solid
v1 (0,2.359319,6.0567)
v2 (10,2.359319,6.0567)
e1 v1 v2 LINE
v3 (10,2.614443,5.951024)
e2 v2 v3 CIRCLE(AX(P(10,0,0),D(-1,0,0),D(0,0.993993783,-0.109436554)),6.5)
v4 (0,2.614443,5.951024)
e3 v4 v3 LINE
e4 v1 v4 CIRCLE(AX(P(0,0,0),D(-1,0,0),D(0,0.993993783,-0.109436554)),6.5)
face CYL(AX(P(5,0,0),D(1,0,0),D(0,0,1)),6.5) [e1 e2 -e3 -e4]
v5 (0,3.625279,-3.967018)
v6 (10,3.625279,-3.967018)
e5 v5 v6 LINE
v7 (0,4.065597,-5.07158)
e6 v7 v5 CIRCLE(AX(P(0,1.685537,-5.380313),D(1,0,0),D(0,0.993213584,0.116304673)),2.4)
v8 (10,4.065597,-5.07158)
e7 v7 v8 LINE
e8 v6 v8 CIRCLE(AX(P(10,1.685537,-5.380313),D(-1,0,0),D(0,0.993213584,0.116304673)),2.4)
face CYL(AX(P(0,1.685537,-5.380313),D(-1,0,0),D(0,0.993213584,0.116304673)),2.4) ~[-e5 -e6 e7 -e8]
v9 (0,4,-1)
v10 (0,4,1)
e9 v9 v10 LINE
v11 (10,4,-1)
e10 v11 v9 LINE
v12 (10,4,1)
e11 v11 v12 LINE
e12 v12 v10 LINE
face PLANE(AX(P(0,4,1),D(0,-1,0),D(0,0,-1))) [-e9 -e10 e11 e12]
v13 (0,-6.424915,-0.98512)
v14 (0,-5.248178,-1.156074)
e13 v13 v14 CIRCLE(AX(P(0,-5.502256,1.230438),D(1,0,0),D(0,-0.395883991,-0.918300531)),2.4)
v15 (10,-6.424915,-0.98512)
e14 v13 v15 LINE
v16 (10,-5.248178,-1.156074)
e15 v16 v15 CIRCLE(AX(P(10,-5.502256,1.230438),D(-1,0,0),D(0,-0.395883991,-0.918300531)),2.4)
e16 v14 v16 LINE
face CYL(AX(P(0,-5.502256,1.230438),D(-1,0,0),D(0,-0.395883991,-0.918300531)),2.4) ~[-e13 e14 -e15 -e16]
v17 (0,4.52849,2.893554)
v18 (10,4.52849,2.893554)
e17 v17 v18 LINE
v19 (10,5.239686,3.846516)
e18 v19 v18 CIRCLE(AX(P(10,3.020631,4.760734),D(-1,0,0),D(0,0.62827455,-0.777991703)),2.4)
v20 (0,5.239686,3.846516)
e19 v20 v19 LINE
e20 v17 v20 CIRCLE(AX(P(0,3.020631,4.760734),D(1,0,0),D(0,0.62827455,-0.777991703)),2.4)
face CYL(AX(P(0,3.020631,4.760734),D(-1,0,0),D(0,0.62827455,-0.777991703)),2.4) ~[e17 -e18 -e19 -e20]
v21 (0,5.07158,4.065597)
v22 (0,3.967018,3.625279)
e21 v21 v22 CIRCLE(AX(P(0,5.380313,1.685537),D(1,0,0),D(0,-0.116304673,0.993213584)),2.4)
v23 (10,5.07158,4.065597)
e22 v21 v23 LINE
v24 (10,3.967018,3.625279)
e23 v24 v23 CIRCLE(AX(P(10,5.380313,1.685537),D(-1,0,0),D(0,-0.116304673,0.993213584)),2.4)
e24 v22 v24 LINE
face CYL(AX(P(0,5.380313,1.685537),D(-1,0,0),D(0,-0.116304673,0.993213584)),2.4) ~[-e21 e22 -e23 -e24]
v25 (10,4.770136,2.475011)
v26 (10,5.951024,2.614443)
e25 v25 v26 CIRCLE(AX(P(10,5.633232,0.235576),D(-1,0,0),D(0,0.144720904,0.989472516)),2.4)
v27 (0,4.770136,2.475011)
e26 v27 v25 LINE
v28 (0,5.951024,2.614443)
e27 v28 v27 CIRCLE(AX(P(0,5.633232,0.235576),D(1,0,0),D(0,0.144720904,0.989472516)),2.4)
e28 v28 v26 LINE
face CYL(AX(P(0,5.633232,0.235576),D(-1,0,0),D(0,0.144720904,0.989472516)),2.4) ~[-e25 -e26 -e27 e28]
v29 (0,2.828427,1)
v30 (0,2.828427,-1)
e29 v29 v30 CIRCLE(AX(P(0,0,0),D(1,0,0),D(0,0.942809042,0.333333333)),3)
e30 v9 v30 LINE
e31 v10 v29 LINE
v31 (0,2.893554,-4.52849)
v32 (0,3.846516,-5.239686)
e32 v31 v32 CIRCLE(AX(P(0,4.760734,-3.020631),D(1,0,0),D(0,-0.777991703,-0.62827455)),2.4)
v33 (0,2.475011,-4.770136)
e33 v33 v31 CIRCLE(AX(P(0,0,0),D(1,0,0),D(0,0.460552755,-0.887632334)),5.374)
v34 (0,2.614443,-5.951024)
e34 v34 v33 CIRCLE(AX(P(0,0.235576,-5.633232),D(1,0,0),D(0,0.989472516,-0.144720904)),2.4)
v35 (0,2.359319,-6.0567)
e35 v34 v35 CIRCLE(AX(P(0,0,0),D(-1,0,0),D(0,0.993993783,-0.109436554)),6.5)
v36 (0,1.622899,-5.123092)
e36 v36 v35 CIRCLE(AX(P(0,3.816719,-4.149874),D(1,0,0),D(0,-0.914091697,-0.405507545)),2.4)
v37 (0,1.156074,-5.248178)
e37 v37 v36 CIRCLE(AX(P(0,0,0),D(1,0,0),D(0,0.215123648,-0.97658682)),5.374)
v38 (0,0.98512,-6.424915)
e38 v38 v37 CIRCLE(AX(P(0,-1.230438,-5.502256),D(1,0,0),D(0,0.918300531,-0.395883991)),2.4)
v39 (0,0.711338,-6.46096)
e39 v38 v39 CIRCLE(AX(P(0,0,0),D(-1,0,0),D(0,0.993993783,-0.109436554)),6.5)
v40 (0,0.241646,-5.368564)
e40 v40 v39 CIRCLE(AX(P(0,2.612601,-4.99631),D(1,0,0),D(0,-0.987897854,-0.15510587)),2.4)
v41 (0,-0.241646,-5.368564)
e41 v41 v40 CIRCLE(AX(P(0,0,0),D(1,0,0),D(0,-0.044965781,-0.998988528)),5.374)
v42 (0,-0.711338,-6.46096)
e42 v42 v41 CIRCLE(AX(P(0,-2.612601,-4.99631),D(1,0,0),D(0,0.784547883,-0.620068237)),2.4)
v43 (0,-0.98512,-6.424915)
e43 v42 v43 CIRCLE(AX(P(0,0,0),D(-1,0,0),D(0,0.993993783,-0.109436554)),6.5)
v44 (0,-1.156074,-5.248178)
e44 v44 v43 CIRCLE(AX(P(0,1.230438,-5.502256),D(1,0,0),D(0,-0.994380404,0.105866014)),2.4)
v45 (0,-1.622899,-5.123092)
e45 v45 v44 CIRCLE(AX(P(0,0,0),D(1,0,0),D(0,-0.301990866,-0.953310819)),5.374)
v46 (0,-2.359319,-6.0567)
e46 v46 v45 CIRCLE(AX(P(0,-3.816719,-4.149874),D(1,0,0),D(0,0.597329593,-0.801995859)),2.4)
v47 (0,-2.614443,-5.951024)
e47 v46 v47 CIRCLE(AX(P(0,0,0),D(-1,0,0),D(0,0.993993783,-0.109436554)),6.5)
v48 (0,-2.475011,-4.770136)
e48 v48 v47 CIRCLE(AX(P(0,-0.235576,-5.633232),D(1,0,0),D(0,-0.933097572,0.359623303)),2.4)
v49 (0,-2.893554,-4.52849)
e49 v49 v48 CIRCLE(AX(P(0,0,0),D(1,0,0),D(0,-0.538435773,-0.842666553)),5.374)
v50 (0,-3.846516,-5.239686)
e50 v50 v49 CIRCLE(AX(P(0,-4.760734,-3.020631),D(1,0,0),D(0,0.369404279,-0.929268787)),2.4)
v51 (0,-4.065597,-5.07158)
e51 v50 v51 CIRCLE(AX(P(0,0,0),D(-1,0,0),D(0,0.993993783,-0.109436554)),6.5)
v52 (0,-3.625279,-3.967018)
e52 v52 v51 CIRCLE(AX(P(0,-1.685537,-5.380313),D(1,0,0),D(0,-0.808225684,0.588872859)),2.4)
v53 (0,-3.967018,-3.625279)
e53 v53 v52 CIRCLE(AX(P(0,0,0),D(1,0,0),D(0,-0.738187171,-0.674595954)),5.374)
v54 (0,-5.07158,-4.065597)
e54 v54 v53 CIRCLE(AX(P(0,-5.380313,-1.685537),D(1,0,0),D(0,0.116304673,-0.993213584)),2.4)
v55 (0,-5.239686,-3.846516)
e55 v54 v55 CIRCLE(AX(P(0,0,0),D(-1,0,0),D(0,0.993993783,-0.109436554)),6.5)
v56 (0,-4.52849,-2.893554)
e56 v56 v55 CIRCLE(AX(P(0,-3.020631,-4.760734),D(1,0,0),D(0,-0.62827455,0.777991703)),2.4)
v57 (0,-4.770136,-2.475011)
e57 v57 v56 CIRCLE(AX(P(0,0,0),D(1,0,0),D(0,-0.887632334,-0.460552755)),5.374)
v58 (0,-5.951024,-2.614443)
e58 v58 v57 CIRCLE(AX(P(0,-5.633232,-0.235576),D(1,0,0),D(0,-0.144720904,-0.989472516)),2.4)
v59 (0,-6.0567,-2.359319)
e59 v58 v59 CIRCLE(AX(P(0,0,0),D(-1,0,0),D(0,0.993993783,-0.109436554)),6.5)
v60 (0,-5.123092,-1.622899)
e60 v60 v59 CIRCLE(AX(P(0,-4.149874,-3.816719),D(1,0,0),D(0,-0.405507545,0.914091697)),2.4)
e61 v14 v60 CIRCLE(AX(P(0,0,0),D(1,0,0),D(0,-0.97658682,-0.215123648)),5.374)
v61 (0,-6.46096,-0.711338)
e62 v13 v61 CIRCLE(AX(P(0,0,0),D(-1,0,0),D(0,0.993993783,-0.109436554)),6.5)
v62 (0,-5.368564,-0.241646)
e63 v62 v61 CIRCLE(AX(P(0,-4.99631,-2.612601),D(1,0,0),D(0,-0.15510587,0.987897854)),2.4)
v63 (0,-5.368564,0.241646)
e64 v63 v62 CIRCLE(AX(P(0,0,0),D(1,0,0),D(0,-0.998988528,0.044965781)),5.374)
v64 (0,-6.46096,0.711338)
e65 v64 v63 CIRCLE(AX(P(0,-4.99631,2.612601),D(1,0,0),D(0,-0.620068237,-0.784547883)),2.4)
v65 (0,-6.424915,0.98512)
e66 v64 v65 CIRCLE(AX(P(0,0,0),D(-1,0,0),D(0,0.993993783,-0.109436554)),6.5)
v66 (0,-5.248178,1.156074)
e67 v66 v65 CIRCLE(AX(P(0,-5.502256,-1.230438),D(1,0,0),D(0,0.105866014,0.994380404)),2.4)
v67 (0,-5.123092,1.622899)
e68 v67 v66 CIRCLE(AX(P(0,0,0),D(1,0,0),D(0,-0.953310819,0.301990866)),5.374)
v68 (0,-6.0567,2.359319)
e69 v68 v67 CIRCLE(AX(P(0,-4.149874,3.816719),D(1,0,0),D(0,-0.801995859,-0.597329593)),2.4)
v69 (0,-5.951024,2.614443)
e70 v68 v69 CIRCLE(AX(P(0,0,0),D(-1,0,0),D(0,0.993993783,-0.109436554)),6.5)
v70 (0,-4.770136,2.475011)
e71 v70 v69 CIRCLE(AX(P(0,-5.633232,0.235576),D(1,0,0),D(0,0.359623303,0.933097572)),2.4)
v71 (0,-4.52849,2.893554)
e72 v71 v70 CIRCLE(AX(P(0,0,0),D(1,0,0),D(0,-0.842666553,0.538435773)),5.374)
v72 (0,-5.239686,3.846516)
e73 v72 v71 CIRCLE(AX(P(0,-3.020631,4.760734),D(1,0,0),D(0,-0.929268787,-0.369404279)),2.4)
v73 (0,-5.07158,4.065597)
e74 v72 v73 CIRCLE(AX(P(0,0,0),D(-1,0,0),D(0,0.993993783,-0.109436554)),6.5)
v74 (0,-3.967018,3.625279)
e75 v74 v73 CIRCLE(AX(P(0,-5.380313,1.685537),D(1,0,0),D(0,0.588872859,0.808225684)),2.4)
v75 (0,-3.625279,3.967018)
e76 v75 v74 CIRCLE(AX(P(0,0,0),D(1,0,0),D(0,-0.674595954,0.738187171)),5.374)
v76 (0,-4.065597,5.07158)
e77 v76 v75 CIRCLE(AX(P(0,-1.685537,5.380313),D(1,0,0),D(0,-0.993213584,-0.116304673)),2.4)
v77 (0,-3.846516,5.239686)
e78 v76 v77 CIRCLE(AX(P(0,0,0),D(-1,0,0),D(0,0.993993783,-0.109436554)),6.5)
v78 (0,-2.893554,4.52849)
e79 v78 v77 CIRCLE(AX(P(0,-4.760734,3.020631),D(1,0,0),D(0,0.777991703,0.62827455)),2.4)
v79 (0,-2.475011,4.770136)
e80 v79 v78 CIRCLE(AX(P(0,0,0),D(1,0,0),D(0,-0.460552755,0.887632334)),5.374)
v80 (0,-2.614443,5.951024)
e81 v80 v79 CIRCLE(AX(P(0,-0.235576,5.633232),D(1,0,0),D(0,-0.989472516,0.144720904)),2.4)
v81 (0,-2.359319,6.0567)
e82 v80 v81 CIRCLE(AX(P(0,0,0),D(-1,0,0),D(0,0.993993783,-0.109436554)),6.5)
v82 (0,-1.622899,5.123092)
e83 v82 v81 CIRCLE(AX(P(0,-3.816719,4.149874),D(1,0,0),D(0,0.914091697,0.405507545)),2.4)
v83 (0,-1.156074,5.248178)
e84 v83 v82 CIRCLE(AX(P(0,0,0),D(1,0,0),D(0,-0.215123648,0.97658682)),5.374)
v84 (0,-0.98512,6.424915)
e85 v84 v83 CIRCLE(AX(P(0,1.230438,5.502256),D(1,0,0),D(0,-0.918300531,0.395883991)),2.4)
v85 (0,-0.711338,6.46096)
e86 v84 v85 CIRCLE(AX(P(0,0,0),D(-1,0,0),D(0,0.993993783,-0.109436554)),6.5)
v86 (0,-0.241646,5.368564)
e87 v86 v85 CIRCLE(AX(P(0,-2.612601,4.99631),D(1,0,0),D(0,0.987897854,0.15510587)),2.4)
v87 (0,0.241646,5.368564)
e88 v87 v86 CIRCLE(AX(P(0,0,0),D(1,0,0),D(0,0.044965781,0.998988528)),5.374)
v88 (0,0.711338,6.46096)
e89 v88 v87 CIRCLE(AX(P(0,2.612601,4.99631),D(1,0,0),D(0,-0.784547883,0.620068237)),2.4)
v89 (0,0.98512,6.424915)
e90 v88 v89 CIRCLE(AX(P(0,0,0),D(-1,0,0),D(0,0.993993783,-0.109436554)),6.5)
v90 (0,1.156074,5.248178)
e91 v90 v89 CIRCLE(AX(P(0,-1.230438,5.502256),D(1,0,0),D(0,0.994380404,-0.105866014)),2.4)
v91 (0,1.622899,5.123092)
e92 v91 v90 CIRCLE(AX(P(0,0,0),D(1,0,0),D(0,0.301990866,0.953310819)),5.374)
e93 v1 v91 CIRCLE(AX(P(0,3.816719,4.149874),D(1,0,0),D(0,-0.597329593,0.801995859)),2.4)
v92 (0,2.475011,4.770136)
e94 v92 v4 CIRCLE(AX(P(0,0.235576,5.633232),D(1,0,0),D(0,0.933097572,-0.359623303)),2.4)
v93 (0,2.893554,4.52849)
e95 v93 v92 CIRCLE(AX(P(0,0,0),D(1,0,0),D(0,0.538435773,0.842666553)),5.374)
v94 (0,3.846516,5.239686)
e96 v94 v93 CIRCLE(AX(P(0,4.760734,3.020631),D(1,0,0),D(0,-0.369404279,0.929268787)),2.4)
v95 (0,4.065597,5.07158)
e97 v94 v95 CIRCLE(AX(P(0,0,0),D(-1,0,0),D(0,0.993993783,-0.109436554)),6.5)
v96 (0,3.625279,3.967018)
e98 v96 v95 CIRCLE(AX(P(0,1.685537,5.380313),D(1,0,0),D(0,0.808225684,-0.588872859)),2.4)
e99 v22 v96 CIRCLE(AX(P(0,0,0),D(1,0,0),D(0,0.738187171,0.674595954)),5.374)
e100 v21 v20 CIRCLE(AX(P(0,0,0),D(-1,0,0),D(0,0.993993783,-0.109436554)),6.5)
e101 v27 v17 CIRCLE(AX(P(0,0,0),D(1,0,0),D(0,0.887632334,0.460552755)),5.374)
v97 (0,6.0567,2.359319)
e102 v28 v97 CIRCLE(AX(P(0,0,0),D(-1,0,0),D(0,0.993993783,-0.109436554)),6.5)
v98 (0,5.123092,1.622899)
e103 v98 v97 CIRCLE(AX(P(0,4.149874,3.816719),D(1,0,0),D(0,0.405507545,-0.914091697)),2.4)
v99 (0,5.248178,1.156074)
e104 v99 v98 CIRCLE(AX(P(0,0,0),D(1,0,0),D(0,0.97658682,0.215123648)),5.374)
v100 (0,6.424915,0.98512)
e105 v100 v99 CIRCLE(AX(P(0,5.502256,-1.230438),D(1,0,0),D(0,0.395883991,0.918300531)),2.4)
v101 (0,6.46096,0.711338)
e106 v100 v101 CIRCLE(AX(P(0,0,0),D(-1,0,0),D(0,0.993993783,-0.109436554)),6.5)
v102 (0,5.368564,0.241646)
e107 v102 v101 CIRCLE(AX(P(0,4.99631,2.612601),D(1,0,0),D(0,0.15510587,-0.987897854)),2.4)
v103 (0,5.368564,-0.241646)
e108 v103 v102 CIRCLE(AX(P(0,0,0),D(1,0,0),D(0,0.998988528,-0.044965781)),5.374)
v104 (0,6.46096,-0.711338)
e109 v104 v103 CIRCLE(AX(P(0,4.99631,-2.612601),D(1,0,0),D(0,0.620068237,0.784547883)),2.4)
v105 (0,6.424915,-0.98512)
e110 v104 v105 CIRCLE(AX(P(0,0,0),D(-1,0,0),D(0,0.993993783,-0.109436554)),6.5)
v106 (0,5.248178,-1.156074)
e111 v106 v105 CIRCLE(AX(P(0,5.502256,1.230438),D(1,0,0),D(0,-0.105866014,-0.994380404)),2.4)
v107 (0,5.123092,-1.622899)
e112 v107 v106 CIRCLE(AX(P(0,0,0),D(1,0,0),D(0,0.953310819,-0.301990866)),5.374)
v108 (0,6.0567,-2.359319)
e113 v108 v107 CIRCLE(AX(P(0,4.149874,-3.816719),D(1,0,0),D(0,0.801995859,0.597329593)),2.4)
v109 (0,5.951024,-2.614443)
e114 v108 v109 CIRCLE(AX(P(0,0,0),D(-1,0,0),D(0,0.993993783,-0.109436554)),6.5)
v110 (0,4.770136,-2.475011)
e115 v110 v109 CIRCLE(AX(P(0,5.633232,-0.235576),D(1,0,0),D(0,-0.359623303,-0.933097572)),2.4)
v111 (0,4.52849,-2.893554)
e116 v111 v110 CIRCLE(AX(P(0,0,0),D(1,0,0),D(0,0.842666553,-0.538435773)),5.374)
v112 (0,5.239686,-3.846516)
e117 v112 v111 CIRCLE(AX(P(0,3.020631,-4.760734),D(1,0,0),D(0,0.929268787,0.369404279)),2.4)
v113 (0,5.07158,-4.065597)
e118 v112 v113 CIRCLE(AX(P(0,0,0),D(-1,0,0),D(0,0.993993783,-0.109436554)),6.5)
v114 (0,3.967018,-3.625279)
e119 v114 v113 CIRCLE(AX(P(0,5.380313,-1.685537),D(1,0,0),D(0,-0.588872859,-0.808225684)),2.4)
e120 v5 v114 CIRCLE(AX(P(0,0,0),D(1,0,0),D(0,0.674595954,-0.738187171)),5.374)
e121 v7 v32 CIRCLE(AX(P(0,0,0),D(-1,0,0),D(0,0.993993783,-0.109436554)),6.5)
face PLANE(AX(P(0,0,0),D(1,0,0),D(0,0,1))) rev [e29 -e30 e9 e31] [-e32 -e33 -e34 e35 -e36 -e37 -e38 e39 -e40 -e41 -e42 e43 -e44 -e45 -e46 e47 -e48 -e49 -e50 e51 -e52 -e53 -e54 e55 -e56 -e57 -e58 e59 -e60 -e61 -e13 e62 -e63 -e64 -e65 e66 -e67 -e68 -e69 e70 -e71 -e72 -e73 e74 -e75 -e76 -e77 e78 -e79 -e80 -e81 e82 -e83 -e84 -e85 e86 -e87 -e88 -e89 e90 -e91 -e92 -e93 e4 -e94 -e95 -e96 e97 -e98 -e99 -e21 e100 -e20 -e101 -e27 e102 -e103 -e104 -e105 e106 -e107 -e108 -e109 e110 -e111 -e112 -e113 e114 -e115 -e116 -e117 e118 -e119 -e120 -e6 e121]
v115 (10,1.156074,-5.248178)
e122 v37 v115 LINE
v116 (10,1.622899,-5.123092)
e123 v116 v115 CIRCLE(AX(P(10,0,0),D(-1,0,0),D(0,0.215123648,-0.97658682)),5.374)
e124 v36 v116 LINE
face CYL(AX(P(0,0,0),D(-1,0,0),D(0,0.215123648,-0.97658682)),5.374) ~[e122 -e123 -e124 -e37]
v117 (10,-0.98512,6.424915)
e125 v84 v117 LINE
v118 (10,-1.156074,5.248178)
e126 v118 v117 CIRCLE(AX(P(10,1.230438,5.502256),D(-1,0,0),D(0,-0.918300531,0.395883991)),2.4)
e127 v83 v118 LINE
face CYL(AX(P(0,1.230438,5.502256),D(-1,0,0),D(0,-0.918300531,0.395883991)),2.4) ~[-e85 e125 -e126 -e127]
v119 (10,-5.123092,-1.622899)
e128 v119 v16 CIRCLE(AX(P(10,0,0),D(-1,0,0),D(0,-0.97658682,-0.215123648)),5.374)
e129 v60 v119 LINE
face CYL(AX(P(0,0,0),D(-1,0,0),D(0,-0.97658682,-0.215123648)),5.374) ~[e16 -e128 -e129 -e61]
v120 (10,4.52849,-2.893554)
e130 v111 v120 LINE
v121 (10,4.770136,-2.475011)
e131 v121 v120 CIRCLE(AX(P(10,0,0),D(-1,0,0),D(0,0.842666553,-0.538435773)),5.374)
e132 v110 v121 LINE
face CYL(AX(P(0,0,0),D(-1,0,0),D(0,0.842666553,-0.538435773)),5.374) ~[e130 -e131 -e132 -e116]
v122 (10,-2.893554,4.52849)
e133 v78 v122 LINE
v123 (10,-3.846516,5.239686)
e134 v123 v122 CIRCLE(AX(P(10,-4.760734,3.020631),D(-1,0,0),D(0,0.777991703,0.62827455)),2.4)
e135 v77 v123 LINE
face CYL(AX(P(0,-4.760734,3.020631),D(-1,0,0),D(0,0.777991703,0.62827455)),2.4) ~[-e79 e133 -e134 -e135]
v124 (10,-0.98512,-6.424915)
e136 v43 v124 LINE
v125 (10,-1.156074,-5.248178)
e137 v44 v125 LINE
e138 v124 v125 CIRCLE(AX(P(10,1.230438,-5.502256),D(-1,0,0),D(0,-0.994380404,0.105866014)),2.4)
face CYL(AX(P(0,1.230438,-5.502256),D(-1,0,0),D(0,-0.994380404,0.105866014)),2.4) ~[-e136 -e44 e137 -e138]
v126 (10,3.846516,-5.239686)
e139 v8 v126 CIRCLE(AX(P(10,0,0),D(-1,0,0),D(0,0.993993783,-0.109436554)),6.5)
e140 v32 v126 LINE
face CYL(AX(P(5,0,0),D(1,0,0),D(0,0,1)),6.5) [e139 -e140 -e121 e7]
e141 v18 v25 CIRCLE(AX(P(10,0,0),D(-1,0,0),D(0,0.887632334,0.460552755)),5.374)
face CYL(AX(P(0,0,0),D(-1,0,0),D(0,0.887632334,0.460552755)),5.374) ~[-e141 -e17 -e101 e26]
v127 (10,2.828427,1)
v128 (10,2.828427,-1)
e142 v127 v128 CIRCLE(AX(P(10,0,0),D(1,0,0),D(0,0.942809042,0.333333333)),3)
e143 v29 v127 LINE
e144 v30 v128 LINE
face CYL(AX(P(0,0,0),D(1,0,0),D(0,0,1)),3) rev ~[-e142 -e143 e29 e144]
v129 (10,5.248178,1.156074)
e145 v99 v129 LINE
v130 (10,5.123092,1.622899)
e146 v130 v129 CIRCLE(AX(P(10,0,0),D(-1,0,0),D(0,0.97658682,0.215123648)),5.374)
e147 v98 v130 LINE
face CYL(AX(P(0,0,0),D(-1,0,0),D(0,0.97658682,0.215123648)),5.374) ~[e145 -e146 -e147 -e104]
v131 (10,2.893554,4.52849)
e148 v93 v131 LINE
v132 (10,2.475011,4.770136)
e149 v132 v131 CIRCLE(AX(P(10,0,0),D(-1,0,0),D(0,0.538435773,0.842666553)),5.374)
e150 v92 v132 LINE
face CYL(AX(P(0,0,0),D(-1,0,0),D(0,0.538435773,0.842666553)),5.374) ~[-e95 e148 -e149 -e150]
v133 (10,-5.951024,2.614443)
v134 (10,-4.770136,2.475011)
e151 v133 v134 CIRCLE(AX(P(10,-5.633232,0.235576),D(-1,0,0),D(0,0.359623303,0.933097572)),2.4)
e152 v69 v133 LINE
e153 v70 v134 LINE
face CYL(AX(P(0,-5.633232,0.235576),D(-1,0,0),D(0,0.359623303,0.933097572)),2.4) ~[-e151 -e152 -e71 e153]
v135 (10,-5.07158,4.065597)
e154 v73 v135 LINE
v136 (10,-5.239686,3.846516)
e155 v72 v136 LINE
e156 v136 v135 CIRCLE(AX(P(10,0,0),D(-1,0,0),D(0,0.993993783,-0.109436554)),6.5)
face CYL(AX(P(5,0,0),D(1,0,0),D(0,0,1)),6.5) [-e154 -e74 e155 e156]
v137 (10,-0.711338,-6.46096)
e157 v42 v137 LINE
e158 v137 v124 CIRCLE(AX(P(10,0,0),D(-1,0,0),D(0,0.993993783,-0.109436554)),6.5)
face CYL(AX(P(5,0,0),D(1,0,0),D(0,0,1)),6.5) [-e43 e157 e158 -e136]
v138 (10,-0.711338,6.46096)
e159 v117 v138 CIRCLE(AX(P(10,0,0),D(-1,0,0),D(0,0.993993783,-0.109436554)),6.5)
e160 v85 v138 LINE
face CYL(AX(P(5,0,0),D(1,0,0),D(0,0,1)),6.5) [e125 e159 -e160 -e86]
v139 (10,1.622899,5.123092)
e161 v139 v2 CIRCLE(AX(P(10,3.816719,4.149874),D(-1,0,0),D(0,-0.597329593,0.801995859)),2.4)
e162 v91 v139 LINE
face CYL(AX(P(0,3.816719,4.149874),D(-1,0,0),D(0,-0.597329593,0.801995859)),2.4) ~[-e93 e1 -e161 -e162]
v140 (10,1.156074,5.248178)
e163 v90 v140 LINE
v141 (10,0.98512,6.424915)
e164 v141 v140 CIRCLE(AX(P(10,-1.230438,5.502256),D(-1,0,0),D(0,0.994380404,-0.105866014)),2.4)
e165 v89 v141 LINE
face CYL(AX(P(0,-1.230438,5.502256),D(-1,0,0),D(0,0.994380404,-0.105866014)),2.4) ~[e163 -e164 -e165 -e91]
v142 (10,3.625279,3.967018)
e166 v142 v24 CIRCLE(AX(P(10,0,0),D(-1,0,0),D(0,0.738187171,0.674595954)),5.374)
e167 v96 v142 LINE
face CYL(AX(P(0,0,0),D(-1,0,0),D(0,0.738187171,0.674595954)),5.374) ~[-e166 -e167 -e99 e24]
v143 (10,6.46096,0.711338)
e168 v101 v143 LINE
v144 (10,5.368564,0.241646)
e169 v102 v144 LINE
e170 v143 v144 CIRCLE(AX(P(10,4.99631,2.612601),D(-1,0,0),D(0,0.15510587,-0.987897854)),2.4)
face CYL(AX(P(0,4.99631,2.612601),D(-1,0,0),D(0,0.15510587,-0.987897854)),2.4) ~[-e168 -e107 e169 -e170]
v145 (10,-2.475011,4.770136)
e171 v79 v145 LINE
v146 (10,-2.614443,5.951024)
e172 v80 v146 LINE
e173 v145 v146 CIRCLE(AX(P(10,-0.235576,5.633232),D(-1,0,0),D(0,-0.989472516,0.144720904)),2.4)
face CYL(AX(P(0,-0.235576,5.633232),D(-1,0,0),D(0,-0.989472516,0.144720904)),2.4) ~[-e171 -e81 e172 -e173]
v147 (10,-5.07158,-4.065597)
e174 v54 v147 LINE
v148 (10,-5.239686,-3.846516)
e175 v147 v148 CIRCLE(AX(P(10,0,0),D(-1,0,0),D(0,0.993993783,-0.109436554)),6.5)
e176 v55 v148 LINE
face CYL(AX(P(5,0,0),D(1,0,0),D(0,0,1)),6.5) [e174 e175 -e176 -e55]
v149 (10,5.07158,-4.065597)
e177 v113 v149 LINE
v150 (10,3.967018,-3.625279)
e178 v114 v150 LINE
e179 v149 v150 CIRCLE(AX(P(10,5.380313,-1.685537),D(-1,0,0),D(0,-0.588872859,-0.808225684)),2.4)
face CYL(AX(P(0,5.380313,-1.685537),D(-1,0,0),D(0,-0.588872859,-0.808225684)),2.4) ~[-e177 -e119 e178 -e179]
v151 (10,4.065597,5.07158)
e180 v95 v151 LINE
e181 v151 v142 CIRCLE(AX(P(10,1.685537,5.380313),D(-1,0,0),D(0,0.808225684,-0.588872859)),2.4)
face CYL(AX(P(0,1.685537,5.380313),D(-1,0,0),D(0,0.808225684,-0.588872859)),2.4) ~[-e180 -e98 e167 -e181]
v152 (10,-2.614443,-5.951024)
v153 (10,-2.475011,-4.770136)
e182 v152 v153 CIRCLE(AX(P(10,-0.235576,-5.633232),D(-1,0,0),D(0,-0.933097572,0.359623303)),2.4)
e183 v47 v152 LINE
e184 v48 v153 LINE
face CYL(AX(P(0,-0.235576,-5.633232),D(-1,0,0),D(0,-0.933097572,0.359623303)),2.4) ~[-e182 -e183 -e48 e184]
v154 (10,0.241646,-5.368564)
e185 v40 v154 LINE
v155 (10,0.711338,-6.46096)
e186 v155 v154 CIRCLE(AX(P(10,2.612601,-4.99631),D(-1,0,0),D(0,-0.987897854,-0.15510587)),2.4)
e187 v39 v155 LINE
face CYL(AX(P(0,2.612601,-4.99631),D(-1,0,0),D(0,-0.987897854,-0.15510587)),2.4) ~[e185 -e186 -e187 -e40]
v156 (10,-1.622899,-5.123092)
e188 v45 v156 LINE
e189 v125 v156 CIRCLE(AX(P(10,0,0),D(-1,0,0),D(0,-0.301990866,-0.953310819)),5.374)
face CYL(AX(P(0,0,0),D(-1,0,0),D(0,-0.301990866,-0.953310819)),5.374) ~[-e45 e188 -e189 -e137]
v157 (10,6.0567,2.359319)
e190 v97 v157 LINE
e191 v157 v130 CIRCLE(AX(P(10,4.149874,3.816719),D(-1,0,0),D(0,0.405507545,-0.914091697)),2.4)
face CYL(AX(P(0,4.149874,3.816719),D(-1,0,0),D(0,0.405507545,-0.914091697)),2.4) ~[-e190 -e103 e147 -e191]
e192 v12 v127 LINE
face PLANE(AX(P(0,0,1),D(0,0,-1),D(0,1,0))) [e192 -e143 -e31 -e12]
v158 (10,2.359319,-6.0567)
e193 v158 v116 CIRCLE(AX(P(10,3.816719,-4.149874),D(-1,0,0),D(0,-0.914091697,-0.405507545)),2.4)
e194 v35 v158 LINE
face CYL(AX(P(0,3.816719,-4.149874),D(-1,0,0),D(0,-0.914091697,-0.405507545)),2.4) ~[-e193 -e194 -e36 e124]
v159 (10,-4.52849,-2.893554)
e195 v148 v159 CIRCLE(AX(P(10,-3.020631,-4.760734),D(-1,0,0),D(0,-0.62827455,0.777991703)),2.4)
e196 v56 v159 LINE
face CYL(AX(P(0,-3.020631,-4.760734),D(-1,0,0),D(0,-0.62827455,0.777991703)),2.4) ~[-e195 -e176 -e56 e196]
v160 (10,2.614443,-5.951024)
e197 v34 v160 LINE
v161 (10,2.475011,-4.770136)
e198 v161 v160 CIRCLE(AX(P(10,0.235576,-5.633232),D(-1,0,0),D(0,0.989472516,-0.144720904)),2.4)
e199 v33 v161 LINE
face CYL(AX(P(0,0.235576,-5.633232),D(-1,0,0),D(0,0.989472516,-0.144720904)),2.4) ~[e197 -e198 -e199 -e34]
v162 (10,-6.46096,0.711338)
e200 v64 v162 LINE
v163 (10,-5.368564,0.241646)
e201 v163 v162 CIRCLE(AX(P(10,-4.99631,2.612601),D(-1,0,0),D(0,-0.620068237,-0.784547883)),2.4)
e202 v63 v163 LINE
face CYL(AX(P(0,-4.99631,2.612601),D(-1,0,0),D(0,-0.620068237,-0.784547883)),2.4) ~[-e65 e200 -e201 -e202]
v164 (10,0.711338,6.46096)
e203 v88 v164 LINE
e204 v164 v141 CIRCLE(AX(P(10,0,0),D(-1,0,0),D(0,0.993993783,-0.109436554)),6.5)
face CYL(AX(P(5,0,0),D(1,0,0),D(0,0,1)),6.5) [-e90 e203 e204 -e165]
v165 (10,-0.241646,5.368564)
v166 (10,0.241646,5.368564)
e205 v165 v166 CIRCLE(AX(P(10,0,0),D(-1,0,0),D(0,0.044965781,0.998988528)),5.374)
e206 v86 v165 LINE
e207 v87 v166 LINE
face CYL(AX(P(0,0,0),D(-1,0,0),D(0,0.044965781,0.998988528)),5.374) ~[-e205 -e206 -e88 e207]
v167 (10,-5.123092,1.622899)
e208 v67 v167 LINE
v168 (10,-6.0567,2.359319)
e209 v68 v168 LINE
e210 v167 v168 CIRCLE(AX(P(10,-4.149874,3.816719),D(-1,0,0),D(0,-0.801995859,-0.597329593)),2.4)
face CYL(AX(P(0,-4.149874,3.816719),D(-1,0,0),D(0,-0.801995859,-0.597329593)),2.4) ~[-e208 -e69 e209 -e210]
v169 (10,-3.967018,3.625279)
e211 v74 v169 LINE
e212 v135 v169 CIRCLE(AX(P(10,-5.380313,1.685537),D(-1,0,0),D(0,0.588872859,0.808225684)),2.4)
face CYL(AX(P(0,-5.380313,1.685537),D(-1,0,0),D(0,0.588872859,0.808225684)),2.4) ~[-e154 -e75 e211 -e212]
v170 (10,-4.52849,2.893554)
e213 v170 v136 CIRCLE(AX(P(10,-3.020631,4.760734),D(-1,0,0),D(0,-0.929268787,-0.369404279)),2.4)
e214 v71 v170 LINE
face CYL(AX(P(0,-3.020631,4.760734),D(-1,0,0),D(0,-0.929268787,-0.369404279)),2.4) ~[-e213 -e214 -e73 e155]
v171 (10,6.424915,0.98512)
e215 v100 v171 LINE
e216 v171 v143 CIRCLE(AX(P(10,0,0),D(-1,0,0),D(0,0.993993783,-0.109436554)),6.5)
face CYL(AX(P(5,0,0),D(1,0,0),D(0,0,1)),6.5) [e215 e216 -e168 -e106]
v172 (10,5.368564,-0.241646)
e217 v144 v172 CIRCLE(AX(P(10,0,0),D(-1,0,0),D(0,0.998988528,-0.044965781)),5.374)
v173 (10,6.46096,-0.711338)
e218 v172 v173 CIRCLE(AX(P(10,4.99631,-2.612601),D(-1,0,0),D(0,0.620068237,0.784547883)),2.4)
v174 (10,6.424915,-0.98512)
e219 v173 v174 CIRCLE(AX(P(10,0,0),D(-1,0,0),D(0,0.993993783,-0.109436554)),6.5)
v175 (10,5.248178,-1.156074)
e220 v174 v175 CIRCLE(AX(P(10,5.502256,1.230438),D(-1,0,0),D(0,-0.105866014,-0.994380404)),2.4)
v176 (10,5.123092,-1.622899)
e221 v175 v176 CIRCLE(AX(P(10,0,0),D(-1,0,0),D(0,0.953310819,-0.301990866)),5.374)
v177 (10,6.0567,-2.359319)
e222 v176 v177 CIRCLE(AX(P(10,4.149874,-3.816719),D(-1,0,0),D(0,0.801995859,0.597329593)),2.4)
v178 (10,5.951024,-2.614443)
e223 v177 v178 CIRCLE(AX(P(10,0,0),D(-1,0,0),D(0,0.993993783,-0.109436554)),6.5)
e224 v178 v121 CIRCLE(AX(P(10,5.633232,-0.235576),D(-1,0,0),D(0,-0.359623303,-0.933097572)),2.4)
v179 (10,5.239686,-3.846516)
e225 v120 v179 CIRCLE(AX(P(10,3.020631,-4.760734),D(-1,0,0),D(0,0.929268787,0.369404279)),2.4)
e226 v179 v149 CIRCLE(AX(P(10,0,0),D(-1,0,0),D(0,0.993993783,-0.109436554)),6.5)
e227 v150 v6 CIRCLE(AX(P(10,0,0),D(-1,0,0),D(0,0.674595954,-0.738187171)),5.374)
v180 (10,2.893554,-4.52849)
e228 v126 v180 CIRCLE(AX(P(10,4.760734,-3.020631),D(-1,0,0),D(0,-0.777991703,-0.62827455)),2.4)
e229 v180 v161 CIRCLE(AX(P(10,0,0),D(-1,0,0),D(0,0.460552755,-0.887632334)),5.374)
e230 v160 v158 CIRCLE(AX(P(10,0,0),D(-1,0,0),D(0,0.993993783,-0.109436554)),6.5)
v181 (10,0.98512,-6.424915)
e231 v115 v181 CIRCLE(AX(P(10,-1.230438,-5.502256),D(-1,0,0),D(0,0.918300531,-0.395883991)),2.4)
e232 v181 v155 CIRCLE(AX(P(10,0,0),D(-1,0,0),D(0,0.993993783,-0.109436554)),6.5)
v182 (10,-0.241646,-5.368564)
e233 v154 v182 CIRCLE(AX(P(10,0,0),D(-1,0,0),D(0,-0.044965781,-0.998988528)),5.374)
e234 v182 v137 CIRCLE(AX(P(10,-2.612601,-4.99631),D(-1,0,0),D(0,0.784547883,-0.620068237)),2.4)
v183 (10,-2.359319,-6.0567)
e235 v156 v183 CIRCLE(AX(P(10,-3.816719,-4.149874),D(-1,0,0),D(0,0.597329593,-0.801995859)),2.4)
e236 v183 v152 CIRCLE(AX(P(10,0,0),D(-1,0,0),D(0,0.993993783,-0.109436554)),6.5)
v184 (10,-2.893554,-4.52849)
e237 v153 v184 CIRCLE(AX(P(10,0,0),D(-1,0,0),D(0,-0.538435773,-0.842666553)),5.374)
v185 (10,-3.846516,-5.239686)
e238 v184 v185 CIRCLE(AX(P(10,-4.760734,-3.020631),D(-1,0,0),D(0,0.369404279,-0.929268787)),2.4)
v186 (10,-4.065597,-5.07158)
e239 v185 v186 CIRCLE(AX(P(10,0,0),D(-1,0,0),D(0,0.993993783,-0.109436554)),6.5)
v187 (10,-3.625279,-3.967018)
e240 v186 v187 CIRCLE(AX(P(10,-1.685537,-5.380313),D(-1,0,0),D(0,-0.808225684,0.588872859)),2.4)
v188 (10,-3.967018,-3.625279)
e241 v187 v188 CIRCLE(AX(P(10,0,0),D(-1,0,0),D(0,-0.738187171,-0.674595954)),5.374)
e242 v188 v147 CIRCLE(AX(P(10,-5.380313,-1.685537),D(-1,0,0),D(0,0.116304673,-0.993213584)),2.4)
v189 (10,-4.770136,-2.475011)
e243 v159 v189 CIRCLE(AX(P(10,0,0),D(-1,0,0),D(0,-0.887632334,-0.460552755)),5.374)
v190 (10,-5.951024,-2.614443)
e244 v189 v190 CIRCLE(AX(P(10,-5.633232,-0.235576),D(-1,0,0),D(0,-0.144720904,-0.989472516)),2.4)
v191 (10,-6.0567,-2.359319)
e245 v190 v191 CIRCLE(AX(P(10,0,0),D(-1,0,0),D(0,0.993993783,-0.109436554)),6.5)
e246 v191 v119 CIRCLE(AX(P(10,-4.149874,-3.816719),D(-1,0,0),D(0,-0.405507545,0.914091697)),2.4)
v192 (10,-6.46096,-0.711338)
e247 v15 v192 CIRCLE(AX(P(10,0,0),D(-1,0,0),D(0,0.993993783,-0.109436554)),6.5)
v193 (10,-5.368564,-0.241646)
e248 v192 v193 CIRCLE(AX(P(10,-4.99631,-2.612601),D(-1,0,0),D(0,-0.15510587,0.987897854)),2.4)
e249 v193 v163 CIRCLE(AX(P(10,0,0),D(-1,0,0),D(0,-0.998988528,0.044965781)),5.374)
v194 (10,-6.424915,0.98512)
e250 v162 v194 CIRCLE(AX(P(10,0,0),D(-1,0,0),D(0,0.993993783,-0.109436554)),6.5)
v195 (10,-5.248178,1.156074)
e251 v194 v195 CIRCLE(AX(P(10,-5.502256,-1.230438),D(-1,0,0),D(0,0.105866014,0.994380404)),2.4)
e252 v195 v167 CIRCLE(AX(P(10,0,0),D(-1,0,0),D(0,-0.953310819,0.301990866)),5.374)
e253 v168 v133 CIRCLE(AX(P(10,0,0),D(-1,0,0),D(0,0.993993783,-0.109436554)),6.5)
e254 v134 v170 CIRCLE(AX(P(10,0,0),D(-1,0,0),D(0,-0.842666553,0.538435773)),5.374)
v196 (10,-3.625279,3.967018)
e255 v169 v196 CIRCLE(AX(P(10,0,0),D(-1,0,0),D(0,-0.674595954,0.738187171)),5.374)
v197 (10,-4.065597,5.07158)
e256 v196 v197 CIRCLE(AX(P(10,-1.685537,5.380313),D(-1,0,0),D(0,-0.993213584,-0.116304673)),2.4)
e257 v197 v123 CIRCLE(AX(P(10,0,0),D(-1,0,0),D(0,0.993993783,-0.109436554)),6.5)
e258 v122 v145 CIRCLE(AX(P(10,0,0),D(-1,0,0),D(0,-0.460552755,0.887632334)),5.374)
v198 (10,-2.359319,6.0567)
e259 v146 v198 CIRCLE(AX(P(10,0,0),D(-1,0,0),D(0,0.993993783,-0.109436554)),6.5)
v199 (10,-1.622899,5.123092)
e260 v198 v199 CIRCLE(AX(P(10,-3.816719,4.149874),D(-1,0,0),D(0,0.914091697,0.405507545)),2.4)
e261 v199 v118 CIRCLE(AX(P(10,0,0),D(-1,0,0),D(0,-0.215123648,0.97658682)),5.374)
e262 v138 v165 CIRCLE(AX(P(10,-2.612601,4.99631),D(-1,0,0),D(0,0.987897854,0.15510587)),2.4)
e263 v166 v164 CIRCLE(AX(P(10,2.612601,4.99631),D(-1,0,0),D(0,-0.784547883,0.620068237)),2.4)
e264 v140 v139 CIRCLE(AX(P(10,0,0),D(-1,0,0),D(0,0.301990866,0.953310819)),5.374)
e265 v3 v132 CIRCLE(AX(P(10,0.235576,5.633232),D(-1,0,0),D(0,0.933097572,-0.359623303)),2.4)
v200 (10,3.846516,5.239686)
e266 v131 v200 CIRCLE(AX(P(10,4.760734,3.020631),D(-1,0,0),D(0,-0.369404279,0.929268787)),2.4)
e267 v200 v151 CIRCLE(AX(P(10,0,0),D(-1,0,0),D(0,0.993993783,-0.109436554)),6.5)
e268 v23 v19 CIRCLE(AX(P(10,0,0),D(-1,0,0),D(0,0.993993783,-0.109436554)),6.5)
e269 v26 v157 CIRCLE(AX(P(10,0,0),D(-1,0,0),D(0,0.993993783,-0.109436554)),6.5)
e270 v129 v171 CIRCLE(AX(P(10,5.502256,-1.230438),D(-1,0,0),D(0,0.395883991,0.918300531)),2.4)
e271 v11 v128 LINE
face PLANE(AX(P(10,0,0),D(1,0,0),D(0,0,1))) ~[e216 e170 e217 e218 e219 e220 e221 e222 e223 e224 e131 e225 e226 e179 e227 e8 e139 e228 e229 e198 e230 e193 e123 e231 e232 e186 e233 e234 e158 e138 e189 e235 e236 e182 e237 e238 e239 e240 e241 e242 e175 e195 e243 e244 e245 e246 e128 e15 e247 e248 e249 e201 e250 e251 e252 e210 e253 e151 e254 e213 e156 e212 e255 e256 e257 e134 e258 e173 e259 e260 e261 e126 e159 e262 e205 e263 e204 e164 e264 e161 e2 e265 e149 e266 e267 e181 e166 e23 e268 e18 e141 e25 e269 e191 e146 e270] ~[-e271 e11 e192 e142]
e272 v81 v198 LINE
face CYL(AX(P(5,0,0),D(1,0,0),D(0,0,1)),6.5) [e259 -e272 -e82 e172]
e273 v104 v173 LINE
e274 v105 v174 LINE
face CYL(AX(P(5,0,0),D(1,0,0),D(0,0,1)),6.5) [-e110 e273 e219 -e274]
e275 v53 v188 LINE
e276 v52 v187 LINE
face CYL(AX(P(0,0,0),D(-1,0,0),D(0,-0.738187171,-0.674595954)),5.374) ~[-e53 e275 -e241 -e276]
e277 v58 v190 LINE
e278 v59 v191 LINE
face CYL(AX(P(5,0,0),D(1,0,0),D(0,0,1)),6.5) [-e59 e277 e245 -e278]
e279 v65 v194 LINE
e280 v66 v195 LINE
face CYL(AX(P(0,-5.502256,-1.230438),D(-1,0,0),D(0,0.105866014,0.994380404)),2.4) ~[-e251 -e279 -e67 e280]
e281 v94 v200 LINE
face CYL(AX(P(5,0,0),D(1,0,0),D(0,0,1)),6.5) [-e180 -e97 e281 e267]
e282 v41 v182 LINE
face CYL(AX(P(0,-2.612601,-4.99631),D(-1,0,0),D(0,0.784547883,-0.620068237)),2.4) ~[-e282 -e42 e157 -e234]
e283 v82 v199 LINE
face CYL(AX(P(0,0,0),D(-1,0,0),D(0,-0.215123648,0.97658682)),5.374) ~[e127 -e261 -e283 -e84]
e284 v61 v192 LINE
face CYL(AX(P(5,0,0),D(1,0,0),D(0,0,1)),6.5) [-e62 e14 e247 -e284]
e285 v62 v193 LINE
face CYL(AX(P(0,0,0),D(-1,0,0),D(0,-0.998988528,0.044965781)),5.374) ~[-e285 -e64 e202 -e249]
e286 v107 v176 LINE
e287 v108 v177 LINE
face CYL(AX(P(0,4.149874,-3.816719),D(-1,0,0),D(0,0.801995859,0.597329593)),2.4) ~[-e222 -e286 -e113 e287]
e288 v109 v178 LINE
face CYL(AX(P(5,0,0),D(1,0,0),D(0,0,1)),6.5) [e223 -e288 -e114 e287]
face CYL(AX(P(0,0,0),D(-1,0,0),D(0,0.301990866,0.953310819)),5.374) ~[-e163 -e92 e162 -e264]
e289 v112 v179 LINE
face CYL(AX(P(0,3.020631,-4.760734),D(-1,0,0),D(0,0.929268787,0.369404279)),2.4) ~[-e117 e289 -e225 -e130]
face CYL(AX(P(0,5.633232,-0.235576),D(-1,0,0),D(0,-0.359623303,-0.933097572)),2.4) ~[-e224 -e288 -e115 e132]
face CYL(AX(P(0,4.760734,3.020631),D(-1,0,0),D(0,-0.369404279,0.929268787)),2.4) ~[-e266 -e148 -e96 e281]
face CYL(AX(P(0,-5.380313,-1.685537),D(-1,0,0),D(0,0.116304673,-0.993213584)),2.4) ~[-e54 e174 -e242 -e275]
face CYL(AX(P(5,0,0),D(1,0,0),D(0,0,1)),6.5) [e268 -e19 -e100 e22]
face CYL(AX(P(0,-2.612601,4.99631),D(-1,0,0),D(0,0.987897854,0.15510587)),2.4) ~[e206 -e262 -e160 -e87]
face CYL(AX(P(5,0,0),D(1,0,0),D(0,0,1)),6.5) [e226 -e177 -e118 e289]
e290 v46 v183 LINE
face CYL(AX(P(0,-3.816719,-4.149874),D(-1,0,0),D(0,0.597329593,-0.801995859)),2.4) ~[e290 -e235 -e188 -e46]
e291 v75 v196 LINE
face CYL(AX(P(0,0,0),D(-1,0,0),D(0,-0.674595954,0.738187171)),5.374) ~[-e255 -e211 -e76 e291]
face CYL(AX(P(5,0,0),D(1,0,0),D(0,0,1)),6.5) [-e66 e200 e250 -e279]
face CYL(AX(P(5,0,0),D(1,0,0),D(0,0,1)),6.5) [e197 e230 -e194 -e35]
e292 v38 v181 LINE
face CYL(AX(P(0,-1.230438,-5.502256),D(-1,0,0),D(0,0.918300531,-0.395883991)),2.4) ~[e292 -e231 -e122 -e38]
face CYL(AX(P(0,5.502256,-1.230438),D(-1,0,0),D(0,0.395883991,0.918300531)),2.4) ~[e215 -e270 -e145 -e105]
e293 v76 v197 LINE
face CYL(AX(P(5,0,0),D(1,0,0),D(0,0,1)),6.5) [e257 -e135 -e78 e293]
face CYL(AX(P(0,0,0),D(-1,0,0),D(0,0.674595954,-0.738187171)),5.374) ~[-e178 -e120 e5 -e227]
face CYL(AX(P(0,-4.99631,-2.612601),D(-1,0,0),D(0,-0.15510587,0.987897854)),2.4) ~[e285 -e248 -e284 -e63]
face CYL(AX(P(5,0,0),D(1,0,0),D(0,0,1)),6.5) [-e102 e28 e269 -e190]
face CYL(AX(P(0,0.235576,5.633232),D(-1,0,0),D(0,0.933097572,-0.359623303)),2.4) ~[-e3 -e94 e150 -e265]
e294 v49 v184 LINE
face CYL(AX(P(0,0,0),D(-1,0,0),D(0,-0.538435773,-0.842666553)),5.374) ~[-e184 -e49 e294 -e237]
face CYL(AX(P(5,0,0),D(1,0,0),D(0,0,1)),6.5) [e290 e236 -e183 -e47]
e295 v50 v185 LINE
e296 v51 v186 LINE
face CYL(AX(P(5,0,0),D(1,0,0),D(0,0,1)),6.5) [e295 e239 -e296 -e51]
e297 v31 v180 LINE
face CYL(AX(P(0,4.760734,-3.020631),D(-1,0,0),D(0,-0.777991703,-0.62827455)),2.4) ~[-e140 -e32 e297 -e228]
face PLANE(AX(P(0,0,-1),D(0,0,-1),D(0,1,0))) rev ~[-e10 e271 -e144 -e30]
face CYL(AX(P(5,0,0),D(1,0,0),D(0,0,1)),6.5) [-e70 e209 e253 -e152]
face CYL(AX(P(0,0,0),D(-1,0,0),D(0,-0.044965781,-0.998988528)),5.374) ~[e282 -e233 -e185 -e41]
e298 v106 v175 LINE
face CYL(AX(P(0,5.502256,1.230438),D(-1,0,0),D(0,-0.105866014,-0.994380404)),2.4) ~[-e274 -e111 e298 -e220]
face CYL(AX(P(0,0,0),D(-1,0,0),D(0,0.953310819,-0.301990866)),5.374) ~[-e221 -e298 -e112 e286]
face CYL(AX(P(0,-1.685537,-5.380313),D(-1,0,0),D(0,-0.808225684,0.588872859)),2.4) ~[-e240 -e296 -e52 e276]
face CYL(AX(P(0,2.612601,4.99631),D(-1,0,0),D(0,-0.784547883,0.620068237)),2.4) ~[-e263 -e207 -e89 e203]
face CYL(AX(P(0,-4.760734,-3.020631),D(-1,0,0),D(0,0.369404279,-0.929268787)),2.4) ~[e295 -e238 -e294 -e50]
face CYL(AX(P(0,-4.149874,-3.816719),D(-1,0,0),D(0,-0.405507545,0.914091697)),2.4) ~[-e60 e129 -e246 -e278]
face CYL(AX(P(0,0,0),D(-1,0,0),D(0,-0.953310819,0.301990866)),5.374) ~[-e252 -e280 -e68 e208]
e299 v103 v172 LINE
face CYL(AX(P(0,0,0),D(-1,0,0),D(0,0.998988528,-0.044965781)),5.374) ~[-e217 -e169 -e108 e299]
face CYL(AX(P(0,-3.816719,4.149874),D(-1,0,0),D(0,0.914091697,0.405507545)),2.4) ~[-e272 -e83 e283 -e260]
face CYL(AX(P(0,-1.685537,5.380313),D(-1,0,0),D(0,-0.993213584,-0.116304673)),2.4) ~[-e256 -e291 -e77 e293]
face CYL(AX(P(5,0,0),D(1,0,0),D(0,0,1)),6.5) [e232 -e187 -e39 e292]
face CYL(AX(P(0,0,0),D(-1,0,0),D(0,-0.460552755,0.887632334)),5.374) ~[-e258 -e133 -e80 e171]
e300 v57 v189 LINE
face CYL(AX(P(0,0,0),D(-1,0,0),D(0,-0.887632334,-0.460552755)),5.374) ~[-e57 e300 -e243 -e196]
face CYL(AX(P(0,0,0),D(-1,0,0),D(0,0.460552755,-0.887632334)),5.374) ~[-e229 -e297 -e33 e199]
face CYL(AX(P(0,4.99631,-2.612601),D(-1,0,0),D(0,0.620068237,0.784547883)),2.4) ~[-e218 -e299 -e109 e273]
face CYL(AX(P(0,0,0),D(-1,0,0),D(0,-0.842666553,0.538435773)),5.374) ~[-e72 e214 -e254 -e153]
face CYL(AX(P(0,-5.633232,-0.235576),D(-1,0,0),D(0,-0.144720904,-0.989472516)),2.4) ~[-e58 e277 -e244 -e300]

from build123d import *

# Parameters (mm, degrees)
BASPROSKE_W     = 10
BASPROSKE_H     = 6.5
TOOTHCUT_DEPTH  = 14.583077707
TEETHCUTS_COUNT = 24
TEETHCUTS_ANGLE = 345
BORSKE_R        = 3
BORE_DEPTH      = 50.0000508
KEYSKE_W        = 2
KEYSKE_H        = 4
KEYWAY_DEPTH    = 50.0000508


with BuildPart() as part:
    # BasProSke → Base-Revolve (revolve)
    with BuildSketch(Plane(origin=(0, 0, 0), x_dir=(1, 0, 0), z_dir=(0, 1, 0)), mode=Mode.PRIVATE) as base_revolve_sk:
        with Locations((5, 3.25)):
            Rectangle(BASPROSKE_W, BASPROSKE_H)
    revolve(base_revolve_sk.sketch.rotate(Axis((-10, 0, 0), (1, 0, 0)), 180), axis=Axis((-10, 0, 0), (1, 0, 0)))

    # TooCutSke → ToothCut (cut, through all)
    with BuildSketch(Plane(origin=(0, 0, 0), x_dir=(0, 0, -1), z_dir=(1, 0, 0))):
        with BuildLine():
            ThreePointArc((0.241646108, 5.368564348), (0, 5.374), (-0.241646108, 5.368564348))
            ThreePointArc((-0.241646108, 5.368564348), (-0.413699957, 5.957993365), (-0.729686037, 6.48447403))
            ThreePointArc((-0.729686037, 6.48447403), (0, 6.5254), (0.729686037, 6.48447403))
            ThreePointArc((0.729686037, 6.48447403), (0.413699957, 5.957993365), (0.241646108, 5.368564348))
        make_face()
    toothcut = extrude(amount=TOOTHCUT_DEPTH, mode=Mode.SUBTRACT)

    # TeethCuts: ToothCut ×24 about axis
    teethcuts_axis = Axis((-10, 0, 0), (1, 0, 0))
    for i in range(1, TEETHCUTS_COUNT):
        add(toothcut.rotate(teethcuts_axis, i * TEETHCUTS_ANGLE / (TEETHCUTS_COUNT - 1)), mode=Mode.SUBTRACT)

    # BorSke → Bore (cut, symmetric)
    with BuildSketch(Plane(origin=(0, 0, 0), x_dir=(0, 0, -1), z_dir=(1, 0, 0))):
        with Locations(Location((0, 0, 0), (0, 0, 180))):
            Circle(BORSKE_R)
    extrude(amount=BORE_DEPTH, both=True, mode=Mode.SUBTRACT)

    # KeySke → Keyway (cut, symmetric)
    with BuildSketch(Plane(origin=(0, 0, 0), x_dir=(0, 0, -1), z_dir=(1, 0, 0))):
        with Locations((0, 2)):
            Rectangle(KEYSKE_W, KEYSKE_H)
    extrude(amount=KEYWAY_DEPTH, both=True, mode=Mode.SUBTRACT)


solid = part.part
